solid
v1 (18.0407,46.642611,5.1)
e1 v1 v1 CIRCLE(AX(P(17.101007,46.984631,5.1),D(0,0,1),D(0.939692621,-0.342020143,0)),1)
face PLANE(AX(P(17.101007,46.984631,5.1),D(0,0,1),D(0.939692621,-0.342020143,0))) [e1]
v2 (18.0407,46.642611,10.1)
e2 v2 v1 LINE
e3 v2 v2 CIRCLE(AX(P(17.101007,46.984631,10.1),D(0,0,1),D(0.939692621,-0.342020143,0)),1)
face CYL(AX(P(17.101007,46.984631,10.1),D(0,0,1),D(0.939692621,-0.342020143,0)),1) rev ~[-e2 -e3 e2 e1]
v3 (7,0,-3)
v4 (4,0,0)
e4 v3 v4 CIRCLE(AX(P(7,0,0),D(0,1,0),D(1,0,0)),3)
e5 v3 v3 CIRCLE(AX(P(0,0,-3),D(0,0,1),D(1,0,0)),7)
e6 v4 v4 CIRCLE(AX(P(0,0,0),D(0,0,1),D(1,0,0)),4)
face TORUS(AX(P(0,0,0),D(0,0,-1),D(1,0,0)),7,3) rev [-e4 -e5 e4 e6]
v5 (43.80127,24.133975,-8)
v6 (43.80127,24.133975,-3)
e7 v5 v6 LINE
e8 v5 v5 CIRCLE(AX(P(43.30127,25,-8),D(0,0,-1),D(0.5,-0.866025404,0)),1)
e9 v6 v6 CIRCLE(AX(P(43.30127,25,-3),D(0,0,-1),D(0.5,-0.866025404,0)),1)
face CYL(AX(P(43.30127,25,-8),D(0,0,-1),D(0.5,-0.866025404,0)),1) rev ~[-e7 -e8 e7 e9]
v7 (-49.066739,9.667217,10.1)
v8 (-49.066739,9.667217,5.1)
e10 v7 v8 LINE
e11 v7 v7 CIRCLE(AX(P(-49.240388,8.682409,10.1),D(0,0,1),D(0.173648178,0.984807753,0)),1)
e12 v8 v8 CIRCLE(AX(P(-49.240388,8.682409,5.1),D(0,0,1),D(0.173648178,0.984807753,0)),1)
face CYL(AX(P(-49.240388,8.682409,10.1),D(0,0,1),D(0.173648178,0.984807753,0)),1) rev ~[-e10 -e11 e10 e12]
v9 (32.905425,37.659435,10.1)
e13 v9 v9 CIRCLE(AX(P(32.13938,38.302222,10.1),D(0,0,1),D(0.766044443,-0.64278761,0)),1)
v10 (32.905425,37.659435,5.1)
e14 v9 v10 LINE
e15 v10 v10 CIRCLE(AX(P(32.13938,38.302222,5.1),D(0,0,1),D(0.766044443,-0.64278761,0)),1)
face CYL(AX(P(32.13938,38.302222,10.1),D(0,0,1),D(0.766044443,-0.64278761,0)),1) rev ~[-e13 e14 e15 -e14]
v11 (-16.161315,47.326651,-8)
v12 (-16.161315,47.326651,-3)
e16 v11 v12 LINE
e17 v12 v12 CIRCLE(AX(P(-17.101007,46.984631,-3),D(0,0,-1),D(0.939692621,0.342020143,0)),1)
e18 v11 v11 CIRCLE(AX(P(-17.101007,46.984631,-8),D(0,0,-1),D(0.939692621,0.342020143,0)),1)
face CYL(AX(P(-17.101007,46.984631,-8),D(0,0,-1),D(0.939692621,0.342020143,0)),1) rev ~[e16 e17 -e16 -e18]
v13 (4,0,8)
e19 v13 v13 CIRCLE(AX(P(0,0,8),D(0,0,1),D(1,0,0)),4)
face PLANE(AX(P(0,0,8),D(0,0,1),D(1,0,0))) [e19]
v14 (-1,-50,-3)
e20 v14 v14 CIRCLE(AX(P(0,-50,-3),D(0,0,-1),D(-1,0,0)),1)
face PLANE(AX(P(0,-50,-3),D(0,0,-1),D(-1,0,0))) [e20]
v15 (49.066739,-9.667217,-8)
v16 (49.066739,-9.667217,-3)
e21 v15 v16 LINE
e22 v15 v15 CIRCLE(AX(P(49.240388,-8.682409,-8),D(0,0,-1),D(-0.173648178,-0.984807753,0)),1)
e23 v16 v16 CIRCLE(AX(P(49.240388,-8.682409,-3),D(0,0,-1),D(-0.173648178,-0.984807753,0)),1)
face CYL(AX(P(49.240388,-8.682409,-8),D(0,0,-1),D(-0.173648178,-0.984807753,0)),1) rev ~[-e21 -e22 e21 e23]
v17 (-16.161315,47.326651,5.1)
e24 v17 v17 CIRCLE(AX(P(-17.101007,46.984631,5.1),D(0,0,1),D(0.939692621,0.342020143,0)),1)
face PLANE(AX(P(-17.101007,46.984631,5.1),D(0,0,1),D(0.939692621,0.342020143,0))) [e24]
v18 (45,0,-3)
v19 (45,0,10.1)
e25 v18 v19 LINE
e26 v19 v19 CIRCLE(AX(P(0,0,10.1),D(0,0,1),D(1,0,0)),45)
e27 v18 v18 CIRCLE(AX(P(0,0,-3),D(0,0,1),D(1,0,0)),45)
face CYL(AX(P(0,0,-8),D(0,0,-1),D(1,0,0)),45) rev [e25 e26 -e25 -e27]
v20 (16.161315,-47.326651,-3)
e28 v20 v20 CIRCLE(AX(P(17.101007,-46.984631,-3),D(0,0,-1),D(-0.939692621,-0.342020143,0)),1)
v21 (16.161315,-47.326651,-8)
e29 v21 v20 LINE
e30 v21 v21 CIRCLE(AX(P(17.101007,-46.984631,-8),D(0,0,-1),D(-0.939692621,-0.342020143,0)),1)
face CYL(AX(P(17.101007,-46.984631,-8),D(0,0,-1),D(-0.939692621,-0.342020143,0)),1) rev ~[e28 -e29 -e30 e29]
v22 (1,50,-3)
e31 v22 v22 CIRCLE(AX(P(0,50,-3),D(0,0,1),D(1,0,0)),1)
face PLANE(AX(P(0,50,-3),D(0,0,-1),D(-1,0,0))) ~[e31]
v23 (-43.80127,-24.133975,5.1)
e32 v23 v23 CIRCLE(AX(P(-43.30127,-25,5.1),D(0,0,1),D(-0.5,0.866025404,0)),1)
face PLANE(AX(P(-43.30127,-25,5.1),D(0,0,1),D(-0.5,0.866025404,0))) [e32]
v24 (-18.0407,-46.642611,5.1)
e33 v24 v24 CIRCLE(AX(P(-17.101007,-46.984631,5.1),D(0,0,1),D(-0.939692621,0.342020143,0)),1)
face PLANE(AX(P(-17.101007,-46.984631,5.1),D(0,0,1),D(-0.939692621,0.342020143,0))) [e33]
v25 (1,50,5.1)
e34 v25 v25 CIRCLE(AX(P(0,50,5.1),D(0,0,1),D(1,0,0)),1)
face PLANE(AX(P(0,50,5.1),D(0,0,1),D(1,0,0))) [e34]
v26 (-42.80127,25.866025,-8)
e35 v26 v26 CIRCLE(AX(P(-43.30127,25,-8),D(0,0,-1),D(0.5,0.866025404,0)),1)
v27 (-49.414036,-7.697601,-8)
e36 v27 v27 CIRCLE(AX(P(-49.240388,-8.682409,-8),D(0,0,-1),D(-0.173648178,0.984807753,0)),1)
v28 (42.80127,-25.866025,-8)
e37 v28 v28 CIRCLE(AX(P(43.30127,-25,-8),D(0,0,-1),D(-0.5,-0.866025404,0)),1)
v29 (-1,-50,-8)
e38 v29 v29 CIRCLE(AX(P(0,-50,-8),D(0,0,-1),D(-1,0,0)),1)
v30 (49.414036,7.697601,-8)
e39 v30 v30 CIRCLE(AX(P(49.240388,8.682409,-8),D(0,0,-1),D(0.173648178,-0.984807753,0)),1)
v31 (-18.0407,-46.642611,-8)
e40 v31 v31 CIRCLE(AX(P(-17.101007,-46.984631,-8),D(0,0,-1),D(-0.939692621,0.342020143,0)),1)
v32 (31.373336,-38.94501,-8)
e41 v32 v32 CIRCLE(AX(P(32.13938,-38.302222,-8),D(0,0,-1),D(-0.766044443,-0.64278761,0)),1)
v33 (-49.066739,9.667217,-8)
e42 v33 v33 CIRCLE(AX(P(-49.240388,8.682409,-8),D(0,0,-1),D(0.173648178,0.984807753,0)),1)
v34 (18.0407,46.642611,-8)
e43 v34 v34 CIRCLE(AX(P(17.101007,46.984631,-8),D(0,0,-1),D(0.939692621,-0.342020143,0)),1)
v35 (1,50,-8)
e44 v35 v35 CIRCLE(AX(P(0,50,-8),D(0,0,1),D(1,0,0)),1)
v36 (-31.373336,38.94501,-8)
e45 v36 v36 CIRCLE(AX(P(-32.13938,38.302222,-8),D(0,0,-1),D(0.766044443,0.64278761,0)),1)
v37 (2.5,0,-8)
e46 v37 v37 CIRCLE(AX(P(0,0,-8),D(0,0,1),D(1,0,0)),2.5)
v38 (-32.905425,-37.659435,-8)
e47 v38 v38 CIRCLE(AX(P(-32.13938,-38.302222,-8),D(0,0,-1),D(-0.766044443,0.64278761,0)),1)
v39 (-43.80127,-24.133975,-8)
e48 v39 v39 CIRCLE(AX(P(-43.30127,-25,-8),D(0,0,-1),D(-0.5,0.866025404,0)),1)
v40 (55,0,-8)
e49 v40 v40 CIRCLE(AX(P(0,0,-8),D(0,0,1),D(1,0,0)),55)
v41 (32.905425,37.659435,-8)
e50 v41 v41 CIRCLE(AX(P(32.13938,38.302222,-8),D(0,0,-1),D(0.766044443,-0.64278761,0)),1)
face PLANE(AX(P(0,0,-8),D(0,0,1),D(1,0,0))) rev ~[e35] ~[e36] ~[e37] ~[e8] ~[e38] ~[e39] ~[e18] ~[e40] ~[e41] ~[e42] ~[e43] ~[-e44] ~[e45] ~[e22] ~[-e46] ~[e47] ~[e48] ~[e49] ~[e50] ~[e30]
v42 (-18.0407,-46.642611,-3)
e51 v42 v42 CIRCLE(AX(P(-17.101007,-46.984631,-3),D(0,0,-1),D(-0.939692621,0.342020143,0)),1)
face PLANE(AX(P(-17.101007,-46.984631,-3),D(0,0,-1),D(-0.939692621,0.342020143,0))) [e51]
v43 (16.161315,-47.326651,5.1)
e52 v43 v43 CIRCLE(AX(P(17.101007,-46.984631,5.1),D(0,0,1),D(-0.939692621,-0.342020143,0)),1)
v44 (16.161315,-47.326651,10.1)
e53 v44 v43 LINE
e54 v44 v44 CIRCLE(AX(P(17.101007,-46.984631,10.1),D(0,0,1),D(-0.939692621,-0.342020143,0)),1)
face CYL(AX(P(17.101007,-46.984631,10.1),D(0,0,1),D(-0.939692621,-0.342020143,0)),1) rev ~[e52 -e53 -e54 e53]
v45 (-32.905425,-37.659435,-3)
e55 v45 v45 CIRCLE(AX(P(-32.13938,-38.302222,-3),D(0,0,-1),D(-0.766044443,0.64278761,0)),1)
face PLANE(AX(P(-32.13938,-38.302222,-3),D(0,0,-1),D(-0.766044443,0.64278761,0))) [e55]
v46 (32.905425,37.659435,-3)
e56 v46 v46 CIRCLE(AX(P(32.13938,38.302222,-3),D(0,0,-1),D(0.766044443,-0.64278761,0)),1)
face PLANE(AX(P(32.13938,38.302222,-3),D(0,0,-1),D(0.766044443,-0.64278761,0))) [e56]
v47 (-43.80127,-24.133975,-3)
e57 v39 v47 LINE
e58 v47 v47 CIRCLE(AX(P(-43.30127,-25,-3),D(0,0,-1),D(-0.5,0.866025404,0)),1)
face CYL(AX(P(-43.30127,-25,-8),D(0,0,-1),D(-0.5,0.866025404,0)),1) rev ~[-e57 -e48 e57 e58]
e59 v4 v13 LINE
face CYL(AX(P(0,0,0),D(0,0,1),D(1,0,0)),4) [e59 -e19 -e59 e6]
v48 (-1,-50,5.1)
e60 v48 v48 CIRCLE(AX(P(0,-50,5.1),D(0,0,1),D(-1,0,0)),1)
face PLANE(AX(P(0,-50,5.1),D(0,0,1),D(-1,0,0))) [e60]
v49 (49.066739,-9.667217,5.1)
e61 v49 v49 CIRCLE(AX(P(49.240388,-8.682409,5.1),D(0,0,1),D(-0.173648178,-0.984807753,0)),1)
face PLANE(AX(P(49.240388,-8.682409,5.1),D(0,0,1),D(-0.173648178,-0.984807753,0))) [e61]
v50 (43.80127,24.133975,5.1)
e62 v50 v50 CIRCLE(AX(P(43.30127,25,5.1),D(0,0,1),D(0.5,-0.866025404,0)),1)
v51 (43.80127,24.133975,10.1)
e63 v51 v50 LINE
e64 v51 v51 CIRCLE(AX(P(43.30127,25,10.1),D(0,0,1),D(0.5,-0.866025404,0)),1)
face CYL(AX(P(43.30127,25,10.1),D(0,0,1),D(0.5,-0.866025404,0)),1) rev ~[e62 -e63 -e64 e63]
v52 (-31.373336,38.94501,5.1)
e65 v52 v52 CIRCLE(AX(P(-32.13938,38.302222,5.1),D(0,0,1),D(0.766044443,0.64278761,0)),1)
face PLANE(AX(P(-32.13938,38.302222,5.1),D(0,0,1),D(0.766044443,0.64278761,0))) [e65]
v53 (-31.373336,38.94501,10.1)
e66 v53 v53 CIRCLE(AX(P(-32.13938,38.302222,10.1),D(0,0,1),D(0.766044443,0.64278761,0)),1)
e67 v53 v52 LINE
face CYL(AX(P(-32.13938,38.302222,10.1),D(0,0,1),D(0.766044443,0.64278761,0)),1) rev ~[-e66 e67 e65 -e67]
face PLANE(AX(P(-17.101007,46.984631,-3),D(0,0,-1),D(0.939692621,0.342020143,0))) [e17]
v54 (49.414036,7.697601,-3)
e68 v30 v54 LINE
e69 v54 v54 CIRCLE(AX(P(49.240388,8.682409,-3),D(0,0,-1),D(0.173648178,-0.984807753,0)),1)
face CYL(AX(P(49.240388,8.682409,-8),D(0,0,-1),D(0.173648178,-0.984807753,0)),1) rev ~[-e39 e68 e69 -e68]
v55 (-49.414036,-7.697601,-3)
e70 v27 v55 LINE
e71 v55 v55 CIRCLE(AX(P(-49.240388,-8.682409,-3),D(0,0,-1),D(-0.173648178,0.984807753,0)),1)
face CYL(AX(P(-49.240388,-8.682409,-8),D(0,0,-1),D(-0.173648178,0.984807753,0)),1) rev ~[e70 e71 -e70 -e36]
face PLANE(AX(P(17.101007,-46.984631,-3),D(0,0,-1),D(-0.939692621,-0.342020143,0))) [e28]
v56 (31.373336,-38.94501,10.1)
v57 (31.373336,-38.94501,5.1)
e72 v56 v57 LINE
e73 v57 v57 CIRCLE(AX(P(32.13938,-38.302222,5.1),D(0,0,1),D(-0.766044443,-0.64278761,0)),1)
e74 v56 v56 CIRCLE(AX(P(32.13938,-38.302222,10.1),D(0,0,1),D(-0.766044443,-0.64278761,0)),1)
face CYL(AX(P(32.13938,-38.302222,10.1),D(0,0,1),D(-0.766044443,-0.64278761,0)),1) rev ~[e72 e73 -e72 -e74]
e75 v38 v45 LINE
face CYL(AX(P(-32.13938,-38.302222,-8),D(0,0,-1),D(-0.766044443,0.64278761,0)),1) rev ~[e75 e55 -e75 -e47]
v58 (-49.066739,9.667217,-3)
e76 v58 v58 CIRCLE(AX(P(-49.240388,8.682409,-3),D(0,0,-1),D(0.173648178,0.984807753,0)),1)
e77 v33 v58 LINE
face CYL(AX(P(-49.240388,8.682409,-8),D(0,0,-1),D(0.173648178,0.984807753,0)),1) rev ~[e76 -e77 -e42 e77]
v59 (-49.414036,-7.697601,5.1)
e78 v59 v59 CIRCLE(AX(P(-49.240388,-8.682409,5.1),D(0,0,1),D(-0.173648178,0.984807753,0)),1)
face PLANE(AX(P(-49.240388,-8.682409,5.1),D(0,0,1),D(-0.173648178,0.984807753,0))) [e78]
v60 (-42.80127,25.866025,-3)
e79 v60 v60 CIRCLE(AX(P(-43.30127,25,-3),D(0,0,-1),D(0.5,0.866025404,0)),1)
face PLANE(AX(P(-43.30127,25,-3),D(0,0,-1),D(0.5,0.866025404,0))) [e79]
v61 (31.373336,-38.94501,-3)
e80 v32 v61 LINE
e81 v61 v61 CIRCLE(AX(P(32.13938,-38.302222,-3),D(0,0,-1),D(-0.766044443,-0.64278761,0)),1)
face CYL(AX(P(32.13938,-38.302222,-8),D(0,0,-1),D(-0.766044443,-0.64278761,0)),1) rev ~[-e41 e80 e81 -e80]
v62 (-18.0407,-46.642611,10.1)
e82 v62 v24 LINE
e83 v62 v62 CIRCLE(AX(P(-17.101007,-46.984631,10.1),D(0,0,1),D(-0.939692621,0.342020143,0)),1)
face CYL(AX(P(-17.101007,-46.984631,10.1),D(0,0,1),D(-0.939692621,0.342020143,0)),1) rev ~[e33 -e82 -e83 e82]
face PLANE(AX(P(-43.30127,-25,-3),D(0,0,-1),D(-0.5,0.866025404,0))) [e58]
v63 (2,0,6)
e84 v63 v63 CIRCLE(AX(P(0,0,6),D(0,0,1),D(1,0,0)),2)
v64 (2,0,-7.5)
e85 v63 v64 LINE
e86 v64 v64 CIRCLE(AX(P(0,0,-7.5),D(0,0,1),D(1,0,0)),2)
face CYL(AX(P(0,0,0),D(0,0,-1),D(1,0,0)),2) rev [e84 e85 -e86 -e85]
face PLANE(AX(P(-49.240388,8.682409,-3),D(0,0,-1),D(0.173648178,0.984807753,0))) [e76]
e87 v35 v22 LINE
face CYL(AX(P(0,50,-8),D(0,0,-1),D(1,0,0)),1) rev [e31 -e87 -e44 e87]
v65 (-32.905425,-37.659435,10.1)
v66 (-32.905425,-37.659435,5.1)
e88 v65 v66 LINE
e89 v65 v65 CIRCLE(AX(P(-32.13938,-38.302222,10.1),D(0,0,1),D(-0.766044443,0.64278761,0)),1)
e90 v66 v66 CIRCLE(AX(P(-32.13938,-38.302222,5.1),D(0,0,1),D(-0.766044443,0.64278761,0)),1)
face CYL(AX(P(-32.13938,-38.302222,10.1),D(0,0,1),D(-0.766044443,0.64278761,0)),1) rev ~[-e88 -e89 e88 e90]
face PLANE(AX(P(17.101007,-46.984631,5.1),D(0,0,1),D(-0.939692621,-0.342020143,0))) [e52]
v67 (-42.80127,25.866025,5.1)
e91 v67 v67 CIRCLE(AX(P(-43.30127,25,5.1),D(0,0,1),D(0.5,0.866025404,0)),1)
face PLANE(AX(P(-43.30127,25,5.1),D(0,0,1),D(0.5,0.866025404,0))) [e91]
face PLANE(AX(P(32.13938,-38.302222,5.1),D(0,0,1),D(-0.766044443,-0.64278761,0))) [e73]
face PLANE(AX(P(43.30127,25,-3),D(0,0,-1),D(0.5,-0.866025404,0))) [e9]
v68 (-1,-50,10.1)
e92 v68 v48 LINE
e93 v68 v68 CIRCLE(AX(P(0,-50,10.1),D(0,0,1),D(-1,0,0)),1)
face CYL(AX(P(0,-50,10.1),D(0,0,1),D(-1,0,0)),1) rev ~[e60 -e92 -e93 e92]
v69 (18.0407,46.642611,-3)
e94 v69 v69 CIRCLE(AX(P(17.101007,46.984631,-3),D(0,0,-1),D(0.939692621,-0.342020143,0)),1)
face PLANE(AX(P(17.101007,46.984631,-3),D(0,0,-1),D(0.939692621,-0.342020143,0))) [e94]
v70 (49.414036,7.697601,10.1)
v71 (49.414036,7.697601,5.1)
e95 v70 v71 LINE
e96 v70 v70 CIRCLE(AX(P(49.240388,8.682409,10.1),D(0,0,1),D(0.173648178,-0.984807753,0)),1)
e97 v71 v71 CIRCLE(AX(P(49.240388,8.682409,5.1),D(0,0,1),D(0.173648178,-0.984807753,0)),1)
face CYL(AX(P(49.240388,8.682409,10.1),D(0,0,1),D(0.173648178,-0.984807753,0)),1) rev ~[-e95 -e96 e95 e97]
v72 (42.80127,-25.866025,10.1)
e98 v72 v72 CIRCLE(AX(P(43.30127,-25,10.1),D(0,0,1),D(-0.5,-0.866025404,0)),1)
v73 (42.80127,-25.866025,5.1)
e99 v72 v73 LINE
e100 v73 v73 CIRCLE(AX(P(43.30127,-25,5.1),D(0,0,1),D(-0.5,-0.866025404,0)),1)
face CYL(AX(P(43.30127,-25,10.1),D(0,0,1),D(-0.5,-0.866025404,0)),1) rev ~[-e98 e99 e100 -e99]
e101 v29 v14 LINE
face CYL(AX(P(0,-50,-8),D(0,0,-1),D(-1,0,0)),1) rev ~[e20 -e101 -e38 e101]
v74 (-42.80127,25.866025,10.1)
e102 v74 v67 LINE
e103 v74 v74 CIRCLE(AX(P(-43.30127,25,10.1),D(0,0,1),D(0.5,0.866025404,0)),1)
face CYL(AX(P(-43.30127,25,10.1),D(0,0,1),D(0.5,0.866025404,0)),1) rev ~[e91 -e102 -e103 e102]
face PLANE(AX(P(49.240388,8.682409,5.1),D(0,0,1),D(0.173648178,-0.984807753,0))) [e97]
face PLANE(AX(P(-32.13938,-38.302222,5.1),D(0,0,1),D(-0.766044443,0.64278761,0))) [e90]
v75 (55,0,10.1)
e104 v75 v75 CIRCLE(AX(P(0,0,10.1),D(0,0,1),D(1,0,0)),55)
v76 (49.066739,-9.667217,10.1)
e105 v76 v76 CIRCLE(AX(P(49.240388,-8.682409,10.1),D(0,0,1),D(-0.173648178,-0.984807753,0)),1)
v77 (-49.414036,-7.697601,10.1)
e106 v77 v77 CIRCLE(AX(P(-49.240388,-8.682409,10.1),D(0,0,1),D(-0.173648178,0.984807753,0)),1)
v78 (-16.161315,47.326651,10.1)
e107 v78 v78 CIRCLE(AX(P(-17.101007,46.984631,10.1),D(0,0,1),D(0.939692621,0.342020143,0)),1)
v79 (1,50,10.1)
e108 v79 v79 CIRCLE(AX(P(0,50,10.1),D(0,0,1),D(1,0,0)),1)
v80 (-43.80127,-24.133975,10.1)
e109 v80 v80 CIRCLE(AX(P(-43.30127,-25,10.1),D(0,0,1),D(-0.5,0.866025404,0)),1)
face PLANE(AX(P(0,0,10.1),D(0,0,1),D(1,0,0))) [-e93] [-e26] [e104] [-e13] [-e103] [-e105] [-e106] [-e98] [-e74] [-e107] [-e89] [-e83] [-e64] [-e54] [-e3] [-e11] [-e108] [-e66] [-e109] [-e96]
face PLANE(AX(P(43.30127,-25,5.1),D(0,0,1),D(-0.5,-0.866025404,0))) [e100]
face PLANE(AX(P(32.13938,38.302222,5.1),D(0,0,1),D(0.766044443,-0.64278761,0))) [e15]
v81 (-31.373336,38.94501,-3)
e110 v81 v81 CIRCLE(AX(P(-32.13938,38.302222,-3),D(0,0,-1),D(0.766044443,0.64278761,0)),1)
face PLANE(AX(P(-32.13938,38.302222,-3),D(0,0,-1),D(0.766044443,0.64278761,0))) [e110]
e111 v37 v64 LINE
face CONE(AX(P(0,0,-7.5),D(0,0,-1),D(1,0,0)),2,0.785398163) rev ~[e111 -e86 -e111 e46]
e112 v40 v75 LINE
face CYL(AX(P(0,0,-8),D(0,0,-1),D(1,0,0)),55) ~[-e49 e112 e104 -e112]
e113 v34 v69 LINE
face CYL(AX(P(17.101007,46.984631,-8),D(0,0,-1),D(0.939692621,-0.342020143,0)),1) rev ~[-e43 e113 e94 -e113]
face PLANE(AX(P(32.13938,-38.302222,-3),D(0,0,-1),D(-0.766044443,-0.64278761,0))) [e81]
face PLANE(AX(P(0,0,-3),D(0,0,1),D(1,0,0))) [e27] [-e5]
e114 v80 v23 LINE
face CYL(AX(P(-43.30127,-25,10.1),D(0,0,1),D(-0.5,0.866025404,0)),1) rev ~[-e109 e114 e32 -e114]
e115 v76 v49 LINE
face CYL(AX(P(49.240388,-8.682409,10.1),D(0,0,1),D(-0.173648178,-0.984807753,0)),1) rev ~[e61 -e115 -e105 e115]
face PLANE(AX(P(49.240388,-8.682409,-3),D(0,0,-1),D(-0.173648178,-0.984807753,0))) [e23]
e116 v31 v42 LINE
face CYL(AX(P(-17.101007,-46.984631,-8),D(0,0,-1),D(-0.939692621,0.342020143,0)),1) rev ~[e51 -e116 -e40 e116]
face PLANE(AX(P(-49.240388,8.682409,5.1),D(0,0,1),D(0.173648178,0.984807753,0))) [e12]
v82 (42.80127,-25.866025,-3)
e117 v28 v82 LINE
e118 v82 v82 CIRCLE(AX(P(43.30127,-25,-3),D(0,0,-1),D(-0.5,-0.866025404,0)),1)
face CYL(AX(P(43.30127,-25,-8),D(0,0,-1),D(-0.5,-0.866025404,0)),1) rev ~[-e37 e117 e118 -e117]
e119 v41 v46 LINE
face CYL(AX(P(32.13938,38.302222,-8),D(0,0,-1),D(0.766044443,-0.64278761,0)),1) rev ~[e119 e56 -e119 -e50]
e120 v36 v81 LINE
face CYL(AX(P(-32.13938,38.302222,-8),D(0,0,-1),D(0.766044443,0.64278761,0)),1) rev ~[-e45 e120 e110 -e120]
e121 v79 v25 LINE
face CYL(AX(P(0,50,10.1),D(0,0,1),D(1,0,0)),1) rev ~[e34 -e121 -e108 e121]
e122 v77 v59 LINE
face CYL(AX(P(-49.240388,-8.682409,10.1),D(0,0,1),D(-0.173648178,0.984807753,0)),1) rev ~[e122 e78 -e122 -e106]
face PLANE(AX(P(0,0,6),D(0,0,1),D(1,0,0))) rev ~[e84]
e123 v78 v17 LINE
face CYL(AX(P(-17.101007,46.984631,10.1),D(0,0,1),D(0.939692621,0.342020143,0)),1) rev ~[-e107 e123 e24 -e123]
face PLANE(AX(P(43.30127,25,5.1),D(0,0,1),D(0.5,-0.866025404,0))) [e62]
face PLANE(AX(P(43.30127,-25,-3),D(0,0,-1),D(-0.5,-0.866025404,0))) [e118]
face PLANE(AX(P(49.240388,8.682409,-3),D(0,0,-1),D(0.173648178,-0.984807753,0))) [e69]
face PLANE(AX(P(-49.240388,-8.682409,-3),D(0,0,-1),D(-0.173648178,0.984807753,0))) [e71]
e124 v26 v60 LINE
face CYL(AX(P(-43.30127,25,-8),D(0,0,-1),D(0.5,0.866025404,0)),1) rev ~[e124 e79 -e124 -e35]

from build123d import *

# Parameters (mm, degrees)
SKETCH1_R                = 4
SKETCH1_R_2              = 2
BOSS_EXTRUDE1_DEPTH      = 8
BOSS_EXTRUDE2_START      = -8
SKETCH2_R                = 45
SKETCH2_R_2              = 4
BOSS_EXTRUDE2_DEPTH      = 5
BOSS_EXTRUDE3_START      = -8
SKETCH3_R                = 55
SKETCH3_R_2              = 45
BOSS_EXTRUDE3_DEPTH      = 18.1
SKETCH4_R                = 2
BOSS_EXTRUDE4_DEPTH      = 2
SKETCH5_R                = 1
CUT_EXTRUDE1_DEPTH       = 5
CIRPATTERN1_COUNT        = 18
MIRROR1_COPY_1_SKETCH_R  = 1
MIRROR1_COPY_1_DEPTH     = 5
MIRROR1_COPY_2_SKETCH_R  = 1
MIRROR1_COPY_2_DEPTH     = 5
MIRROR1_COPY_3_SKETCH_R  = 1
MIRROR1_COPY_3_DEPTH     = 5
MIRROR1_COPY_4_SKETCH_R  = 1
MIRROR1_COPY_4_DEPTH     = 5
MIRROR1_COPY_5_SKETCH_R  = 1
MIRROR1_COPY_5_DEPTH     = 5
MIRROR1_COPY_6_SKETCH_R  = 1
MIRROR1_COPY_6_DEPTH     = 5
MIRROR1_COPY_7_SKETCH_R  = 1
MIRROR1_COPY_7_DEPTH     = 5
MIRROR1_COPY_8_SKETCH_R  = 1
MIRROR1_COPY_8_DEPTH     = 5
MIRROR1_COPY_9_SKETCH_R  = 1
MIRROR1_COPY_9_DEPTH     = 5
MIRROR1_COPY_10_SKETCH_R = 1
MIRROR1_COPY_10_DEPTH    = 5
MIRROR1_COPY_11_SKETCH_R = 1
MIRROR1_COPY_11_DEPTH    = 5
MIRROR1_COPY_12_SKETCH_R = 1
MIRROR1_COPY_12_DEPTH    = 5
MIRROR1_COPY_13_SKETCH_R = 1
MIRROR1_COPY_13_DEPTH    = 5
MIRROR1_COPY_14_SKETCH_R = 1
MIRROR1_COPY_14_DEPTH    = 5
MIRROR1_COPY_15_SKETCH_R = 1
MIRROR1_COPY_15_DEPTH    = 5
MIRROR1_COPY_16_SKETCH_R = 1
MIRROR1_COPY_16_DEPTH    = 5
MIRROR1_COPY_17_SKETCH_R = 1
MIRROR1_COPY_17_DEPTH    = 5
CHAMFER1_SIZE            = 0.5
FILLET1_R                = 3


with BuildPart() as part:
    # Sketch1 → Boss-Extrude1 (new body, symmetric)
    with BuildSketch(Plane.XY):
        Circle(SKETCH1_R)
        Circle(SKETCH1_R_2, mode=Mode.SUBTRACT)
    extrude(amount=BOSS_EXTRUDE1_DEPTH, both=True)

    # Sketch2 → Boss-Extrude2 (add)
    with BuildSketch(Plane.XY.offset(BOSS_EXTRUDE2_START)):
        Circle(SKETCH2_R)
        Circle(SKETCH2_R_2, mode=Mode.SUBTRACT)
    extrude(amount=BOSS_EXTRUDE2_DEPTH)

    # Sketch3 → Boss-Extrude3 (add)
    with BuildSketch(Plane.XY.offset(BOSS_EXTRUDE3_START)):
        Circle(SKETCH3_R)
        Circle(SKETCH3_R_2, mode=Mode.SUBTRACT)
    extrude(amount=BOSS_EXTRUDE3_DEPTH)

    # Sketch4 → Boss-Extrude4 (add)
    with BuildSketch(Plane.XY.offset(8)):
        Circle(SKETCH4_R)
    extrude(amount=-BOSS_EXTRUDE4_DEPTH)

    # Sketch5 → Cut-Extrude1 (cut)
    with BuildSketch(Plane.XY.offset(10.1)):
        with Locations((0, 50)):
            Circle(SKETCH5_R)
    cut_extrude1 = extrude(amount=-CUT_EXTRUDE1_DEPTH, mode=Mode.SUBTRACT)

    # CirPattern1: Cut-Extrude1 ×18 about axis
    cirpattern1_axis = Axis((0, 0, 0), (0, 0, 1))
    for i in range(1, CIRPATTERN1_COUNT):
        add(cut_extrude1.rotate(cirpattern1_axis, i * 360 / CIRPATTERN1_COUNT), mode=Mode.SUBTRACT)

    # Mirror1: Cut-Extrude1 across plane
    add(cut_extrude1.mirror(Plane.XY.offset(1.05)), mode=Mode.SUBTRACT)

    # Mirror1 copy 1 sketch → Mirror1 copy 1 (cut)
    with BuildSketch(Plane(origin=(0, 0, -8), x_dir=(0.939692621, 0.342020143, 0), z_dir=(0, 0, -1))):
        with Locations((0, -50)):
            Circle(MIRROR1_COPY_1_SKETCH_R)
    extrude(amount=-MIRROR1_COPY_1_DEPTH, mode=Mode.SUBTRACT)

    # Mirror1 copy 2 sketch → Mirror1 copy 2 (cut)
    with BuildSketch(Plane(origin=(0, 0, -8), x_dir=(0.766044443, 0.64278761, 0), z_dir=(0, 0, -1))):
        with Locations((0, -50)):
            Circle(MIRROR1_COPY_2_SKETCH_R)
    extrude(amount=-MIRROR1_COPY_2_DEPTH, mode=Mode.SUBTRACT)

    # Mirror1 copy 3 sketch → Mirror1 copy 3 (cut)
    with BuildSketch(Plane(origin=(0, 0, -8), x_dir=(0.5, 0.866025404, 0), z_dir=(0, 0, -1))):
        with Locations((0, -50)):
            Circle(MIRROR1_COPY_3_SKETCH_R)
    extrude(amount=-MIRROR1_COPY_3_DEPTH, mode=Mode.SUBTRACT)

    # Mirror1 copy 4 sketch → Mirror1 copy 4 (cut)
    with BuildSketch(Plane(origin=(0, 0, -8), x_dir=(0.173648178, 0.984807753, 0), z_dir=(0, 0, -1))):
        with Locations((0, -50)):
            Circle(MIRROR1_COPY_4_SKETCH_R)
    extrude(amount=-MIRROR1_COPY_4_DEPTH, mode=Mode.SUBTRACT)

    # Mirror1 copy 5 sketch → Mirror1 copy 5 (cut)
    with BuildSketch(Plane(origin=(0, 0, -8), x_dir=(-0.173648178, 0.984807753, 0), z_dir=(0, 0, -1))):
        with Locations((0, -50)):
            Circle(MIRROR1_COPY_5_SKETCH_R)
    extrude(amount=-MIRROR1_COPY_5_DEPTH, mode=Mode.SUBTRACT)

    # Mirror1 copy 6 sketch → Mirror1 copy 6 (cut)
    with BuildSketch(Plane(origin=(0, 0, -8), x_dir=(-0.5, 0.866025404, 0), z_dir=(0, 0, -1))):
        with Locations((0, -50)):
            Circle(MIRROR1_COPY_6_SKETCH_R)
    extrude(amount=-MIRROR1_COPY_6_DEPTH, mode=Mode.SUBTRACT)

    # Mirror1 copy 7 sketch → Mirror1 copy 7 (cut)
    with BuildSketch(Plane(origin=(0, 0, -8), x_dir=(-0.766044443, 0.64278761, 0), z_dir=(0, 0, -1))):
        with Locations((0, -50)):
            Circle(MIRROR1_COPY_7_SKETCH_R)
    extrude(amount=-MIRROR1_COPY_7_DEPTH, mode=Mode.SUBTRACT)

    # Mirror1 copy 8 sketch → Mirror1 copy 8 (cut)
    with BuildSketch(Plane(origin=(0, 0, -8), x_dir=(-0.939692621, 0.342020143, 0), z_dir=(0, 0, -1))):
        with Locations((0, -50)):
            Circle(MIRROR1_COPY_8_SKETCH_R)
    extrude(amount=-MIRROR1_COPY_8_DEPTH, mode=Mode.SUBTRACT)

    # Mirror1 copy 9 sketch → Mirror1 copy 9 (cut)
    with BuildSketch(Plane(origin=(0, 0, -8), x_dir=(-1, 0, 0), z_dir=(0, 0, -1))):
        with Locations((0, -50)):
            Circle(MIRROR1_COPY_9_SKETCH_R)
    extrude(amount=-MIRROR1_COPY_9_DEPTH, mode=Mode.SUBTRACT)

    # Mirror1 copy 10 sketch → Mirror1 copy 10 (cut)
    with BuildSketch(Plane(origin=(0, 0, -8), x_dir=(-0.939692621, -0.342020143, 0), z_dir=(0, 0, -1))):
        with Locations((0, -50)):
            Circle(MIRROR1_COPY_10_SKETCH_R)
    extrude(amount=-MIRROR1_COPY_10_DEPTH, mode=Mode.SUBTRACT)

    # Mirror1 copy 11 sketch → Mirror1 copy 11 (cut)
    with BuildSketch(Plane(origin=(0, 0, -8), x_dir=(-0.766044443, -0.64278761, 0), z_dir=(0, 0, -1))):
        with Locations((0, -50)):
            Circle(MIRROR1_COPY_11_SKETCH_R)
    extrude(amount=-MIRROR1_COPY_11_DEPTH, mode=Mode.SUBTRACT)

    # Mirror1 copy 12 sketch → Mirror1 copy 12 (cut)
    with BuildSketch(Plane(origin=(0, 0, -8), x_dir=(-0.5, -0.866025404, 0), z_dir=(0, 0, -1))):
        with Locations((0, -50)):
            Circle(MIRROR1_COPY_12_SKETCH_R)
    extrude(amount=-MIRROR1_COPY_12_DEPTH, mode=Mode.SUBTRACT)

    # Mirror1 copy 13 sketch → Mirror1 copy 13 (cut)
    with BuildSketch(Plane(origin=(0, 0, -8), x_dir=(-0.173648178, -0.984807753, 0), z_dir=(0, 0, -1))):
        with Locations((0, -50)):
            Circle(MIRROR1_COPY_13_SKETCH_R)
    extrude(amount=-MIRROR1_COPY_13_DEPTH, mode=Mode.SUBTRACT)

    # Mirror1 copy 14 sketch → Mirror1 copy 14 (cut)
    with BuildSketch(Plane(origin=(0, 0, -8), x_dir=(0.173648178, -0.984807753, 0), z_dir=(0, 0, -1))):
        with Locations((0, -50)):
            Circle(MIRROR1_COPY_14_SKETCH_R)
    extrude(amount=-MIRROR1_COPY_14_DEPTH, mode=Mode.SUBTRACT)

    # Mirror1 copy 15 sketch → Mirror1 copy 15 (cut)
    with BuildSketch(Plane(origin=(0, 0, -8), x_dir=(0.5, -0.866025404, 0), z_dir=(0, 0, -1))):
        with Locations((0, -50)):
            Circle(MIRROR1_COPY_15_SKETCH_R)
    extrude(amount=-MIRROR1_COPY_15_DEPTH, mode=Mode.SUBTRACT)

    # Mirror1 copy 16 sketch → Mirror1 copy 16 (cut)
    with BuildSketch(Plane(origin=(0, 0, -8), x_dir=(0.766044443, -0.64278761, 0), z_dir=(0, 0, -1))):
        with Locations((0, -50)):
            Circle(MIRROR1_COPY_16_SKETCH_R)
    extrude(amount=-MIRROR1_COPY_16_DEPTH, mode=Mode.SUBTRACT)

    # Mirror1 copy 17 sketch → Mirror1 copy 17 (cut)
    with BuildSketch(Plane(origin=(0, 0, -8), x_dir=(0.939692621, -0.342020143, 0), z_dir=(0, 0, -1))):
        with Locations((0, -50)):
            Circle(MIRROR1_COPY_17_SKETCH_R)
    extrude(amount=-MIRROR1_COPY_17_DEPTH, mode=Mode.SUBTRACT)

    # Chamfer1
    chamfer1_edges = [part.edges().sort_by_distance(p)[0] for p in [
        (-2, 0, -8),
    ]]
    chamfer(chamfer1_edges, length=CHAMFER1_SIZE)

    # Fillet1
    fillet1_edges = [part.edges().sort_by_distance(p)[0] for p in [
        (-4, 0, -3),
    ]]
    fillet(fillet1_edges, radius=FILLET1_R)


solid = part.part
